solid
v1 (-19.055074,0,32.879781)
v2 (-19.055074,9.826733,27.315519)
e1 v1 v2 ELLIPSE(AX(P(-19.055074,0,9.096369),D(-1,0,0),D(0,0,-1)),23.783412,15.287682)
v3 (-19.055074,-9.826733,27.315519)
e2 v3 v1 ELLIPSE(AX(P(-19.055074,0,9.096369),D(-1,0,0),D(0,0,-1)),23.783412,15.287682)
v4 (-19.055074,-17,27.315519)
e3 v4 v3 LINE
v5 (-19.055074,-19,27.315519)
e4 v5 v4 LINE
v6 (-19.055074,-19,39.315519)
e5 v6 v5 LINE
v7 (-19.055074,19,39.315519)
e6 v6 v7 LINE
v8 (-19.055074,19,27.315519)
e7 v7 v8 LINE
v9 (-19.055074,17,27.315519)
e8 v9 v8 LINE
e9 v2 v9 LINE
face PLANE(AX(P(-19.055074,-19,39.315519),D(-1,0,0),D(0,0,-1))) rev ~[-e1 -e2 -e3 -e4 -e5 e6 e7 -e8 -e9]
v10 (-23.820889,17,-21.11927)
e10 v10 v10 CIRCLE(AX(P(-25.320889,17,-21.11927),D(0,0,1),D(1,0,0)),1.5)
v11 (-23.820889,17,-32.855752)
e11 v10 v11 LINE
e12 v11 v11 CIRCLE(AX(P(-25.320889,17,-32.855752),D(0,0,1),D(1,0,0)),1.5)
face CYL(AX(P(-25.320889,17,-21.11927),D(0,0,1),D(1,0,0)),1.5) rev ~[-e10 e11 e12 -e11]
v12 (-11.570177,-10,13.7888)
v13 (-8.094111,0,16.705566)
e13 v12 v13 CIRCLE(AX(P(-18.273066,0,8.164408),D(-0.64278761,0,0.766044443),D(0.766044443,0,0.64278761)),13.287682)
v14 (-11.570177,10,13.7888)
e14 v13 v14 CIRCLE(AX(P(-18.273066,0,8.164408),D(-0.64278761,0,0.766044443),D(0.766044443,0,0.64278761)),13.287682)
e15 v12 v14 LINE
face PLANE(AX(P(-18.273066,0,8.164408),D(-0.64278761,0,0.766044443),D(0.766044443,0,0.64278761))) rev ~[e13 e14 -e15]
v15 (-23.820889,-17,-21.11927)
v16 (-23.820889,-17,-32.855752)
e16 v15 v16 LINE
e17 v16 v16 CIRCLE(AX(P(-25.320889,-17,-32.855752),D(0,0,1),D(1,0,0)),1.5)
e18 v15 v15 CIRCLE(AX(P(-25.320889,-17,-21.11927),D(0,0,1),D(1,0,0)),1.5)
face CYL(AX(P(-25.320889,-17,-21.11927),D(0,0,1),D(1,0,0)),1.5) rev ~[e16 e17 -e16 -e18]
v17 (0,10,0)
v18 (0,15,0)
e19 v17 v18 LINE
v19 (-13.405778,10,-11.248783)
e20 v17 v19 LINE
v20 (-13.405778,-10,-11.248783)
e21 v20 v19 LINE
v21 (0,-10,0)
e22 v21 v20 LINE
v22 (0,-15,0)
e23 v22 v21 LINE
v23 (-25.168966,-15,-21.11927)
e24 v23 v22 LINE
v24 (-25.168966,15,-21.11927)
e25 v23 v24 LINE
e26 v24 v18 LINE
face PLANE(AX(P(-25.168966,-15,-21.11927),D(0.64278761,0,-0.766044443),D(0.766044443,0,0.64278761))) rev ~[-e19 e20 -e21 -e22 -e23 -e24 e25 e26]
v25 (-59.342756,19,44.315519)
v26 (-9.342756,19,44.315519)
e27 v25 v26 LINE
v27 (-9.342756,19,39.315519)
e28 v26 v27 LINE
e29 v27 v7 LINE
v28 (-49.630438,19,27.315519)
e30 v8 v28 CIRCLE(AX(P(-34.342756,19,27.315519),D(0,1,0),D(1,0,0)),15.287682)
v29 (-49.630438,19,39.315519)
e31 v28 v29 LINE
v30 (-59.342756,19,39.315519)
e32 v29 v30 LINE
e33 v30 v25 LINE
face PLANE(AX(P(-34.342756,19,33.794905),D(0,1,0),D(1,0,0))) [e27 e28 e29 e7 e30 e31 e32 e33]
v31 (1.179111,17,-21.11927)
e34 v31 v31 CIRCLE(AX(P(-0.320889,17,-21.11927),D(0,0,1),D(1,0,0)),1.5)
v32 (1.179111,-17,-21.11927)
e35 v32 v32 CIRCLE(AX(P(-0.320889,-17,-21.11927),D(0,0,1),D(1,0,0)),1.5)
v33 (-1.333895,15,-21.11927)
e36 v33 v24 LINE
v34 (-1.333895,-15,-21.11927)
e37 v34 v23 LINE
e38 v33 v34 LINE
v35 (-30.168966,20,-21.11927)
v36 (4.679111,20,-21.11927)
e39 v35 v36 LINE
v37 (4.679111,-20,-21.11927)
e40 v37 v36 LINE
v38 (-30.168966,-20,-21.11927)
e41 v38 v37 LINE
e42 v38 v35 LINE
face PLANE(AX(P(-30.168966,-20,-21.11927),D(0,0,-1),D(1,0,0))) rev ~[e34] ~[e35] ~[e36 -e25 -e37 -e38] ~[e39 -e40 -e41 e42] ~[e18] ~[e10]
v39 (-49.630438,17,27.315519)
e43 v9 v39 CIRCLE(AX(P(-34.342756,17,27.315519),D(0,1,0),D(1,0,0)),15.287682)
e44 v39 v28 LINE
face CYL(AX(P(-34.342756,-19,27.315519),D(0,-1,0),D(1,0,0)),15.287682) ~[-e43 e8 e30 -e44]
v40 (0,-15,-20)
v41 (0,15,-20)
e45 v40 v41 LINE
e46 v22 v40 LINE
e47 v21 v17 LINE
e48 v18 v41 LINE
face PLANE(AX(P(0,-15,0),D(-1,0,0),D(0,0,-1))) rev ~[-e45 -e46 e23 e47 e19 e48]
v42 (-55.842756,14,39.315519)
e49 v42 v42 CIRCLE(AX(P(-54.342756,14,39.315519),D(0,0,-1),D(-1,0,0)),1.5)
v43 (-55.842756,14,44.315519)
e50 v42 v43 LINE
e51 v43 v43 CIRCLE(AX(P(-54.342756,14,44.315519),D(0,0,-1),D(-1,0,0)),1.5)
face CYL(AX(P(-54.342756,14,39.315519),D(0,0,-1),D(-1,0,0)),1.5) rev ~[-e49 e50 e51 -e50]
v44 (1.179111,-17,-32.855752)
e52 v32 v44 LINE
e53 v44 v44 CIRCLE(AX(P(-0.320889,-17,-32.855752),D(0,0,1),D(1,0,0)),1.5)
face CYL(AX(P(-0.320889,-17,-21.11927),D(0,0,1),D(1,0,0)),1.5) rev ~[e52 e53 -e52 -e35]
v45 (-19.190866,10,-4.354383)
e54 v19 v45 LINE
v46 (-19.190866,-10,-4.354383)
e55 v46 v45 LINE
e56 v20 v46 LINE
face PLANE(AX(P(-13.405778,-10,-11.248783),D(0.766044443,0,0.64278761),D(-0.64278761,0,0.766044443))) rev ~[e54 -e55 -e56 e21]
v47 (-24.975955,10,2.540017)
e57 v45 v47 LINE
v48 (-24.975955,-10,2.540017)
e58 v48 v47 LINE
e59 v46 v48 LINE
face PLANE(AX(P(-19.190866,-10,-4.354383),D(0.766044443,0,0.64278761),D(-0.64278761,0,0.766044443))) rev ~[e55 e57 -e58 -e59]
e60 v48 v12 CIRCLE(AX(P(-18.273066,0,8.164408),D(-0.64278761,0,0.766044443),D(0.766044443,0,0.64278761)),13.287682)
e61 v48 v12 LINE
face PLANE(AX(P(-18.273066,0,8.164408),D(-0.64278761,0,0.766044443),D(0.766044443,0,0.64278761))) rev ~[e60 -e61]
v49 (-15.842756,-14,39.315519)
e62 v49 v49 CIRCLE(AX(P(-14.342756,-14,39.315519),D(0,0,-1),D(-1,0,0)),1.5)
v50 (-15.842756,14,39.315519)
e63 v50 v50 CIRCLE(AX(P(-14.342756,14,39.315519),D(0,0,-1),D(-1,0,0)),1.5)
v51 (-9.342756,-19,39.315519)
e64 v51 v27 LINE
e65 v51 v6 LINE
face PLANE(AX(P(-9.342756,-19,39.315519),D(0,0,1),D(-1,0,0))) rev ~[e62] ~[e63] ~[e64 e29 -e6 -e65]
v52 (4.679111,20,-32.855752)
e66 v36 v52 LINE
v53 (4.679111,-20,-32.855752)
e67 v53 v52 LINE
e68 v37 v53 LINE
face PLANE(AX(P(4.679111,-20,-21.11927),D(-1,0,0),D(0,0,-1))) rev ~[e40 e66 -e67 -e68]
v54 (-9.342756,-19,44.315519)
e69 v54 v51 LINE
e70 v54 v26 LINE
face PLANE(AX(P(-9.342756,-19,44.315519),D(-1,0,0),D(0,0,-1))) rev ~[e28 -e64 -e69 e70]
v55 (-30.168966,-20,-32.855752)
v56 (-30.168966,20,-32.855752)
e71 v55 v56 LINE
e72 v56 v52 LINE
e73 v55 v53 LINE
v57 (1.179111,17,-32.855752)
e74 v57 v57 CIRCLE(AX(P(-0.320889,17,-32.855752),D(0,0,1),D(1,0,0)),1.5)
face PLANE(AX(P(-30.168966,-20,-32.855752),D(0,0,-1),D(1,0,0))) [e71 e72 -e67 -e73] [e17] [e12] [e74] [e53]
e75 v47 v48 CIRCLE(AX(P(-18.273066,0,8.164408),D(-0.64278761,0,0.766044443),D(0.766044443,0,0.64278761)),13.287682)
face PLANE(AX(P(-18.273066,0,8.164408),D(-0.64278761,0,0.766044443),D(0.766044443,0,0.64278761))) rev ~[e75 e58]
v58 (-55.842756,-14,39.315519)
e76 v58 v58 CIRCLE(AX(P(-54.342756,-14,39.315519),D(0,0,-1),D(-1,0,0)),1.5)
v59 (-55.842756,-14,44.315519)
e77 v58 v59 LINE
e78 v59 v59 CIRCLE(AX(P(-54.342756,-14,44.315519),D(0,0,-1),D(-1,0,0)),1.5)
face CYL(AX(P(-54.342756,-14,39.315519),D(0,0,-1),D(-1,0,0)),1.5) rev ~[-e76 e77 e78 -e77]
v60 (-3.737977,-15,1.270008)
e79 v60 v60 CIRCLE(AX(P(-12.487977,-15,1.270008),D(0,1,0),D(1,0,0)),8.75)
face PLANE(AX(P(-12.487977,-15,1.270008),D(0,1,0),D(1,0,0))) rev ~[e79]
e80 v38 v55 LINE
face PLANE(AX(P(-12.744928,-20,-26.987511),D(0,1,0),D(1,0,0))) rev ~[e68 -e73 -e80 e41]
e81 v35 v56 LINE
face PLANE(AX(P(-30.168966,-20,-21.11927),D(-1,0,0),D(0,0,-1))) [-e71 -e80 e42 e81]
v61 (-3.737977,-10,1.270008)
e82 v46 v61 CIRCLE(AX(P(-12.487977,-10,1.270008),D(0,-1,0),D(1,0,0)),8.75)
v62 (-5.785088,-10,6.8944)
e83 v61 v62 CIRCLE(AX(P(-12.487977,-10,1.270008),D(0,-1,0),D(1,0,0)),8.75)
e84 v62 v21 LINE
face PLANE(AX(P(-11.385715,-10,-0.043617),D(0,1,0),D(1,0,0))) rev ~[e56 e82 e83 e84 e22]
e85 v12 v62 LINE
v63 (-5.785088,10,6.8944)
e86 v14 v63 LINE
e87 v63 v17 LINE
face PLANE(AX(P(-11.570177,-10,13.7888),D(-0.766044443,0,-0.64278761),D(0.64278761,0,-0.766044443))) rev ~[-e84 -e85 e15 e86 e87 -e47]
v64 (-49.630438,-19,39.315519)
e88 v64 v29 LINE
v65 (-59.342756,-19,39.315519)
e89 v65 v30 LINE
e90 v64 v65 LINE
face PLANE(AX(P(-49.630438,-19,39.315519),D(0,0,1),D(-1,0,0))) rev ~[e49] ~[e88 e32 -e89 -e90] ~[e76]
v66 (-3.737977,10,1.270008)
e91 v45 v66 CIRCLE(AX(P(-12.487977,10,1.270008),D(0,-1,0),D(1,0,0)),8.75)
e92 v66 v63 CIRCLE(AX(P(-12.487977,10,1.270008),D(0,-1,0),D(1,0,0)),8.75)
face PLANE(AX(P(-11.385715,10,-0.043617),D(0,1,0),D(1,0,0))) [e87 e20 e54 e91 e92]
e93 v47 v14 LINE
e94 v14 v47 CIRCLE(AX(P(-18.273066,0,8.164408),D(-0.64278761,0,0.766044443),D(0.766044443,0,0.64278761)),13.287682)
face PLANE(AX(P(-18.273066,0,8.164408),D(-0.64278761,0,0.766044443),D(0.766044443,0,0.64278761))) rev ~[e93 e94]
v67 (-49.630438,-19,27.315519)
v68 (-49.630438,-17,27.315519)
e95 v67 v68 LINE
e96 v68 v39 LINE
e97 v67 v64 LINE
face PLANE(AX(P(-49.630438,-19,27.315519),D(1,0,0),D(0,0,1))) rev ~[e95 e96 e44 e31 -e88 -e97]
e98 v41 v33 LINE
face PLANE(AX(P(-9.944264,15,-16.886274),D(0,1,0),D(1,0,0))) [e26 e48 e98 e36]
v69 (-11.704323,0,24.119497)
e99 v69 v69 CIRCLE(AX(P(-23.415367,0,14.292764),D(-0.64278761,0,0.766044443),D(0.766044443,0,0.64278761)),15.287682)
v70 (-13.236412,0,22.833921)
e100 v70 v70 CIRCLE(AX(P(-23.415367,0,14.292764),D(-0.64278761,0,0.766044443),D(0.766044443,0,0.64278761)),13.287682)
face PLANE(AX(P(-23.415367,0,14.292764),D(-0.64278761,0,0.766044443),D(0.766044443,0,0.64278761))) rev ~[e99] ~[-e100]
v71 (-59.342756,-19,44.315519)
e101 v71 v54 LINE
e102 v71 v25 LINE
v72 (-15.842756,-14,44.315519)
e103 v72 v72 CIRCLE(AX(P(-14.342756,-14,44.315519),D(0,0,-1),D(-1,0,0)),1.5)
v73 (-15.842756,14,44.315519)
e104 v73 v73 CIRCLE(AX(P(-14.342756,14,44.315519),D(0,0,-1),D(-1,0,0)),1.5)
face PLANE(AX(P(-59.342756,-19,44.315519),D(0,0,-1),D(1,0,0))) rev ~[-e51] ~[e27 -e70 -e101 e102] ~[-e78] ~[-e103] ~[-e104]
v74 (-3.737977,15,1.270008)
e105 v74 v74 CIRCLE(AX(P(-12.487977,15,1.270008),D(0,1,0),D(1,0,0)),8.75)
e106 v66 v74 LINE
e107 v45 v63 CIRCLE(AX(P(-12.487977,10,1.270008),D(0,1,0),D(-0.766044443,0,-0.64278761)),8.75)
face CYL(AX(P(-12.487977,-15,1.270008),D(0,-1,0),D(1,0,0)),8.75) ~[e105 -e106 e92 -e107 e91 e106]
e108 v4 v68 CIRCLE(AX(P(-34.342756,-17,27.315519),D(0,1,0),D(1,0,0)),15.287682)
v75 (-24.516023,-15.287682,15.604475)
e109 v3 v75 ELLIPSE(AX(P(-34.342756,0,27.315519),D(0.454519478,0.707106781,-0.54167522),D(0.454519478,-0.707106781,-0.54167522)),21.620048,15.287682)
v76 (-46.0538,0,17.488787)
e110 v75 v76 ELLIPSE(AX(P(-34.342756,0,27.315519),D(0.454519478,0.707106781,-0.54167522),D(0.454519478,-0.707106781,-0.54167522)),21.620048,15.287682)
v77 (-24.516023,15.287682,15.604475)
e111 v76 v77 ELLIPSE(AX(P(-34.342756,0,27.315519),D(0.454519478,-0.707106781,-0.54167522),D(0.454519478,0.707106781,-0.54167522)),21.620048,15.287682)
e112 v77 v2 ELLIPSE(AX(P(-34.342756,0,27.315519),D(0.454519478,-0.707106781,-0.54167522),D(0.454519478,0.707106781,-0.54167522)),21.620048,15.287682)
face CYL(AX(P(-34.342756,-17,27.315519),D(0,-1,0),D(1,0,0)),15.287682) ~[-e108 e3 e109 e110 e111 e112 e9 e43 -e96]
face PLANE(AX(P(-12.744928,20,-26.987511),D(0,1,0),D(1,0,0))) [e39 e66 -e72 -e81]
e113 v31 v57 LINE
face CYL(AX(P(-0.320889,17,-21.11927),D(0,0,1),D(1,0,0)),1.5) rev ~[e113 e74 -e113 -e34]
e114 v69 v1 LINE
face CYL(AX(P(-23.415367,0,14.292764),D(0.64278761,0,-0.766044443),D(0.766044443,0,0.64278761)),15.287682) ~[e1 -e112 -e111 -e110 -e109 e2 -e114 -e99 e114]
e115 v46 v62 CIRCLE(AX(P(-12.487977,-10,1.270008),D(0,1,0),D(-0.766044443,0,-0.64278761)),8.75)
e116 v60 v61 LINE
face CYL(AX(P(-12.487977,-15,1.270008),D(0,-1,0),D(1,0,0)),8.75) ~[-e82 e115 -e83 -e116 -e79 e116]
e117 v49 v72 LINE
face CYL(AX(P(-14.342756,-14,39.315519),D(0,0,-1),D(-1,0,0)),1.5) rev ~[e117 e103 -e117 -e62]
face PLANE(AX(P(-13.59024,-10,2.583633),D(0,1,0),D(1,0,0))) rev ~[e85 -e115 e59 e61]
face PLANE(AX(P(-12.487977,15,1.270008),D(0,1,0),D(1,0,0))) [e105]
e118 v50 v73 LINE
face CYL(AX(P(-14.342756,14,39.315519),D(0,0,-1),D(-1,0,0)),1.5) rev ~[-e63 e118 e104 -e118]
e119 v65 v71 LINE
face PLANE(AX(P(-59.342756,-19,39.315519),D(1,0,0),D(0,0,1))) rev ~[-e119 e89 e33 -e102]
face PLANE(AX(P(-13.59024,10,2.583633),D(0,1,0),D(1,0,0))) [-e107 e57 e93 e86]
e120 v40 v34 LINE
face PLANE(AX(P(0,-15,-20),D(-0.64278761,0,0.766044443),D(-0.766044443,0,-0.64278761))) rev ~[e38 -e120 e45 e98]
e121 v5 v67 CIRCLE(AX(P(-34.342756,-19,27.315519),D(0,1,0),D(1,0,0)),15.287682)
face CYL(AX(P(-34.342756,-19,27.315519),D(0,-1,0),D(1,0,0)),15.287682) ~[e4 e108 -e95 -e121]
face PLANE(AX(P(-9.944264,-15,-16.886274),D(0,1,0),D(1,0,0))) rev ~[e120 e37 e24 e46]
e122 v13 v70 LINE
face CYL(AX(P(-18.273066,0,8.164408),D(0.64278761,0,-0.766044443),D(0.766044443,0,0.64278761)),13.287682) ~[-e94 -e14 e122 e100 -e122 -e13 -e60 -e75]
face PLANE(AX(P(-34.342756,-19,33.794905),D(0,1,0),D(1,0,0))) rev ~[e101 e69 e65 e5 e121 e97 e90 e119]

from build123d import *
from build123d.topology import SkipClean

# Parameters (mm, degrees)
SALIENTE_EXTRUIR1_DEPTH       = 15
SALIENTE_EXTRUIR1_DEPTH_BACK  = 15
SALIENTE_EXTRUIR3_DEPTH       = 10
SALIENTE_EXTRUIR3_DEPTH_BACK  = 10
SALIENTE_EXTRUIR9_DEPTH       = 5
SALIENTE_EXTRUIR9_DEPTH_BACK  = 25
CROQUIS4_R                    = 8.75
SALIENTE_EXTRUIR10_DEPTH      = 10
SALIENTE_EXTRUIR10_DEPTH_BACK = 10
CROQUIS6_R                    = 13.287682266
SALIENTE_EXTRUIR11_DEPTH      = 8
CROQUIS7_R                    = 15.287682266
SALIENTE_EXTRUIR12_DEPTH      = 17
SALIENTE_EXTRUIR13_DEPTH      = 17
SALIENTE_EXTRUIR13_DEPTH_BACK = 17
CROQUIS9_R                    = 15.287682266
SALIENTE_EXTRUIR14_DEPTH      = 2
SALIENTE_EXTRUIR14_DEPTH_BACK = 36
SALIENTE_EXTRUIR15_DEPTH      = 5
SALIENTE_EXTRUIR15_DEPTH_BACK = 35
CROQUIS11_W                   = 34.848077531
CROQUIS11_H                   = 11.736481777
CROQUIS12_R                   = 1.5
CORTAR_EXTRUIR1_DEPTH         = 35000
CROQUIS13_R                   = 1.5
CORTAR_EXTRUIR2_DEPTH         = 35000


with BuildPart() as part:
    # Croquis1 → Saliente-Extruir1 (new, two sides: drawn at the far end of the back side and taken through both)
    with BuildSketch(Plane(origin=(0, 0, 0), x_dir=(1, 0, 0), z_dir=(0, 1, 0)).offset(-SALIENTE_EXTRUIR1_DEPTH_BACK)):
        Polygon((0, 0), (0, 20), (-15.320888862, 32.855752194), (-25.168966393, 21.119270417), align=None)
    extrude(amount=SALIENTE_EXTRUIR1_DEPTH + SALIENTE_EXTRUIR1_DEPTH_BACK)

    # Croquis2 → Saliente-Extruir3 (add, two sides: drawn at the far end of the back side and taken through both)
    with BuildSketch(Plane(origin=(0, 0, 0), x_dir=(1, 0, 0), z_dir=(0, 1, 0)).offset(-SALIENTE_EXTRUIR3_DEPTH_BACK)):
        with BuildLine():
            Line((0, 0), (-13.405777755, 11.24878317))
            Line((-13.405777755, 11.24878317), (-19.190866242, 4.354383181))
            ThreePointArc((-19.190866242, 4.354383181), (-18.112368949, -7.972897281), (-5.785088487, -6.894399988))
            Line((-5.785088487, -6.894399988), (0, 0))
        make_face()
    extrude(amount=SALIENTE_EXTRUIR3_DEPTH + SALIENTE_EXTRUIR3_DEPTH_BACK)

    # Croquis4 → Saliente-Extruir9 (add, two sides: drawn at the far end of the back side and taken through both)
    with SkipClean():  # the faces are left unmerged after this step: merging them gives an invalid solid
        with BuildSketch(Plane(origin=(0, 10, 0), x_dir=(1, 0, 0), z_dir=(0, 1, 0)).offset(-SALIENTE_EXTRUIR9_DEPTH_BACK)):
            with Locations((-12.487977364, -1.270008403)):
                Circle(CROQUIS4_R)
        extrude(amount=SALIENTE_EXTRUIR9_DEPTH + SALIENTE_EXTRUIR9_DEPTH_BACK)

    # Croquis5 → Saliente-Extruir10 (add, two sides: drawn at the far end of the back side and taken through both)
    with BuildSketch(Plane(origin=(0, 0, 0), x_dir=(1, 0, 0), z_dir=(0, 1, 0)).offset(-SALIENTE_EXTRUIR10_DEPTH_BACK)):
        with BuildLine():
            Line((-11.570176974, -13.788799976), (-5.785088487, -6.894399988))
            ThreePointArc((-5.785088487, -6.894399988), (-6.86358578, 5.432880474), (-19.190866242, 4.354383181))
            Line((-19.190866242, 4.354383181), (-24.975954729, -2.540016807))
            Line((-24.975954729, -2.540016807), (-11.570176974, -13.788799976))
        make_face()
    extrude(amount=SALIENTE_EXTRUIR10_DEPTH + SALIENTE_EXTRUIR10_DEPTH_BACK)

    # Croquis6 → Saliente-Extruir11 (add)
    with BuildSketch(Plane(origin=(-11.570176974, 0, 13.788799976), x_dir=(0.7660444431189747, 0, 0.6427876096865435), z_dir=(-0.6427876096865434, 0, 0.7660444431189746))):
        with Locations((-8.75, 0)):
            Circle(CROQUIS6_R)
    extrude(amount=SALIENTE_EXTRUIR11_DEPTH)

    # Croquis7 → Saliente-Extruir12 (add)
    with BuildSketch(Plane(origin=(-16.712477852, 0, 19.917155521), x_dir=(0.7660444431189747, 0, 0.6427876096865435), z_dir=(-0.6427876096865434, 0, 0.7660444431189746))):
        with Locations((-8.75, 0)):
            Circle(CROQUIS7_R)
    extrude(amount=SALIENTE_EXTRUIR12_DEPTH)

    # Croquis9 → Saliente-Extruir13 (add, two sides: drawn at the far end of the back side and taken through both)
    with BuildSketch(Plane(origin=(0, 0, 0), x_dir=(1, 0, 0), z_dir=(0, 1, 0)).offset(-SALIENTE_EXTRUIR13_DEPTH_BACK)):
        with Locations((-34.342756094, -27.315519469)):
            Circle(CROQUIS9_R)
    extrude(amount=SALIENTE_EXTRUIR13_DEPTH + SALIENTE_EXTRUIR13_DEPTH_BACK)

    # Croquis10 → Saliente-Extruir14 (add, two sides: drawn at the far end of the back side and taken through both)
    with BuildSketch(Plane(origin=(0, 17, 0), x_dir=(1, 0, 0), z_dir=(0, 1, 0)).offset(-SALIENTE_EXTRUIR14_DEPTH_BACK)):
        with BuildLine():
            Line((-49.63043836, -27.315519469), (-49.63043836, -39.315519469))
            Line((-49.63043836, -39.315519469), (-59.342756094, -39.315519469))
            Line((-59.342756094, -39.315519469), (-59.342756094, -44.315519469))
            Line((-59.342756094, -44.315519469), (-9.342756094, -44.315519469))
            Line((-9.342756094, -44.315519469), (-9.342756094, -39.315519469))
            Line((-9.342756094, -39.315519469), (-19.055073828, -39.315519469))
            Line((-19.055073828, -39.315519469), (-19.055073828, -27.315519469))
            ThreePointArc((-19.055073828, -27.315519469), (-34.342756094, -12.027837203), (-49.63043836, -27.315519469))
        make_face()
    extrude(amount=SALIENTE_EXTRUIR14_DEPTH + SALIENTE_EXTRUIR14_DEPTH_BACK)

    # Croquis11 → Saliente-Extruir15 (add, two sides: drawn at the far end of the back side and taken through both)
    with BuildSketch(Plane(origin=(0, 15, 0), x_dir=(1, 0, 0), z_dir=(0, 1, 0)).offset(-SALIENTE_EXTRUIR15_DEPTH_BACK)):
        with Locations((-12.744927628, 26.987511306)):
            Rectangle(CROQUIS11_W, CROQUIS11_H)
    extrude(amount=SALIENTE_EXTRUIR15_DEPTH + SALIENTE_EXTRUIR15_DEPTH_BACK)

    # Croquis12 → Cortar-Extruir1 (cut)
    with BuildSketch(Plane.XY.offset(-21.119270417)):
        with Locations((-0.320888862, 17)):
            Circle(CROQUIS12_R)
        with Locations((-25.320888862, 17)):
            Circle(CROQUIS12_R)
        with Locations((-25.320888862, -17)):
            Circle(CROQUIS12_R)
        with Locations((-0.320888862, -17)):
            Circle(CROQUIS12_R)
    extrude(amount=-CORTAR_EXTRUIR1_DEPTH, mode=Mode.SUBTRACT)

    # Croquis13 → Cortar-Extruir2 (cut)
    with BuildSketch(Plane(origin=(0, 0, 39.315519469), x_dir=(-1, 0, 0), z_dir=(0, 0, -1))):
        with Locations((54.342756094, 14)):
            Circle(CROQUIS13_R)
        with Locations((54.342756094, -14)):
            Circle(CROQUIS13_R)
        with Locations((14.342756094, 14)):
            Circle(CROQUIS13_R)
        with Locations((14.342756094, -14)):
            Circle(CROQUIS13_R)
    extrude(amount=-CORTAR_EXTRUIR2_DEPTH, mode=Mode.SUBTRACT)


solid = part.part
